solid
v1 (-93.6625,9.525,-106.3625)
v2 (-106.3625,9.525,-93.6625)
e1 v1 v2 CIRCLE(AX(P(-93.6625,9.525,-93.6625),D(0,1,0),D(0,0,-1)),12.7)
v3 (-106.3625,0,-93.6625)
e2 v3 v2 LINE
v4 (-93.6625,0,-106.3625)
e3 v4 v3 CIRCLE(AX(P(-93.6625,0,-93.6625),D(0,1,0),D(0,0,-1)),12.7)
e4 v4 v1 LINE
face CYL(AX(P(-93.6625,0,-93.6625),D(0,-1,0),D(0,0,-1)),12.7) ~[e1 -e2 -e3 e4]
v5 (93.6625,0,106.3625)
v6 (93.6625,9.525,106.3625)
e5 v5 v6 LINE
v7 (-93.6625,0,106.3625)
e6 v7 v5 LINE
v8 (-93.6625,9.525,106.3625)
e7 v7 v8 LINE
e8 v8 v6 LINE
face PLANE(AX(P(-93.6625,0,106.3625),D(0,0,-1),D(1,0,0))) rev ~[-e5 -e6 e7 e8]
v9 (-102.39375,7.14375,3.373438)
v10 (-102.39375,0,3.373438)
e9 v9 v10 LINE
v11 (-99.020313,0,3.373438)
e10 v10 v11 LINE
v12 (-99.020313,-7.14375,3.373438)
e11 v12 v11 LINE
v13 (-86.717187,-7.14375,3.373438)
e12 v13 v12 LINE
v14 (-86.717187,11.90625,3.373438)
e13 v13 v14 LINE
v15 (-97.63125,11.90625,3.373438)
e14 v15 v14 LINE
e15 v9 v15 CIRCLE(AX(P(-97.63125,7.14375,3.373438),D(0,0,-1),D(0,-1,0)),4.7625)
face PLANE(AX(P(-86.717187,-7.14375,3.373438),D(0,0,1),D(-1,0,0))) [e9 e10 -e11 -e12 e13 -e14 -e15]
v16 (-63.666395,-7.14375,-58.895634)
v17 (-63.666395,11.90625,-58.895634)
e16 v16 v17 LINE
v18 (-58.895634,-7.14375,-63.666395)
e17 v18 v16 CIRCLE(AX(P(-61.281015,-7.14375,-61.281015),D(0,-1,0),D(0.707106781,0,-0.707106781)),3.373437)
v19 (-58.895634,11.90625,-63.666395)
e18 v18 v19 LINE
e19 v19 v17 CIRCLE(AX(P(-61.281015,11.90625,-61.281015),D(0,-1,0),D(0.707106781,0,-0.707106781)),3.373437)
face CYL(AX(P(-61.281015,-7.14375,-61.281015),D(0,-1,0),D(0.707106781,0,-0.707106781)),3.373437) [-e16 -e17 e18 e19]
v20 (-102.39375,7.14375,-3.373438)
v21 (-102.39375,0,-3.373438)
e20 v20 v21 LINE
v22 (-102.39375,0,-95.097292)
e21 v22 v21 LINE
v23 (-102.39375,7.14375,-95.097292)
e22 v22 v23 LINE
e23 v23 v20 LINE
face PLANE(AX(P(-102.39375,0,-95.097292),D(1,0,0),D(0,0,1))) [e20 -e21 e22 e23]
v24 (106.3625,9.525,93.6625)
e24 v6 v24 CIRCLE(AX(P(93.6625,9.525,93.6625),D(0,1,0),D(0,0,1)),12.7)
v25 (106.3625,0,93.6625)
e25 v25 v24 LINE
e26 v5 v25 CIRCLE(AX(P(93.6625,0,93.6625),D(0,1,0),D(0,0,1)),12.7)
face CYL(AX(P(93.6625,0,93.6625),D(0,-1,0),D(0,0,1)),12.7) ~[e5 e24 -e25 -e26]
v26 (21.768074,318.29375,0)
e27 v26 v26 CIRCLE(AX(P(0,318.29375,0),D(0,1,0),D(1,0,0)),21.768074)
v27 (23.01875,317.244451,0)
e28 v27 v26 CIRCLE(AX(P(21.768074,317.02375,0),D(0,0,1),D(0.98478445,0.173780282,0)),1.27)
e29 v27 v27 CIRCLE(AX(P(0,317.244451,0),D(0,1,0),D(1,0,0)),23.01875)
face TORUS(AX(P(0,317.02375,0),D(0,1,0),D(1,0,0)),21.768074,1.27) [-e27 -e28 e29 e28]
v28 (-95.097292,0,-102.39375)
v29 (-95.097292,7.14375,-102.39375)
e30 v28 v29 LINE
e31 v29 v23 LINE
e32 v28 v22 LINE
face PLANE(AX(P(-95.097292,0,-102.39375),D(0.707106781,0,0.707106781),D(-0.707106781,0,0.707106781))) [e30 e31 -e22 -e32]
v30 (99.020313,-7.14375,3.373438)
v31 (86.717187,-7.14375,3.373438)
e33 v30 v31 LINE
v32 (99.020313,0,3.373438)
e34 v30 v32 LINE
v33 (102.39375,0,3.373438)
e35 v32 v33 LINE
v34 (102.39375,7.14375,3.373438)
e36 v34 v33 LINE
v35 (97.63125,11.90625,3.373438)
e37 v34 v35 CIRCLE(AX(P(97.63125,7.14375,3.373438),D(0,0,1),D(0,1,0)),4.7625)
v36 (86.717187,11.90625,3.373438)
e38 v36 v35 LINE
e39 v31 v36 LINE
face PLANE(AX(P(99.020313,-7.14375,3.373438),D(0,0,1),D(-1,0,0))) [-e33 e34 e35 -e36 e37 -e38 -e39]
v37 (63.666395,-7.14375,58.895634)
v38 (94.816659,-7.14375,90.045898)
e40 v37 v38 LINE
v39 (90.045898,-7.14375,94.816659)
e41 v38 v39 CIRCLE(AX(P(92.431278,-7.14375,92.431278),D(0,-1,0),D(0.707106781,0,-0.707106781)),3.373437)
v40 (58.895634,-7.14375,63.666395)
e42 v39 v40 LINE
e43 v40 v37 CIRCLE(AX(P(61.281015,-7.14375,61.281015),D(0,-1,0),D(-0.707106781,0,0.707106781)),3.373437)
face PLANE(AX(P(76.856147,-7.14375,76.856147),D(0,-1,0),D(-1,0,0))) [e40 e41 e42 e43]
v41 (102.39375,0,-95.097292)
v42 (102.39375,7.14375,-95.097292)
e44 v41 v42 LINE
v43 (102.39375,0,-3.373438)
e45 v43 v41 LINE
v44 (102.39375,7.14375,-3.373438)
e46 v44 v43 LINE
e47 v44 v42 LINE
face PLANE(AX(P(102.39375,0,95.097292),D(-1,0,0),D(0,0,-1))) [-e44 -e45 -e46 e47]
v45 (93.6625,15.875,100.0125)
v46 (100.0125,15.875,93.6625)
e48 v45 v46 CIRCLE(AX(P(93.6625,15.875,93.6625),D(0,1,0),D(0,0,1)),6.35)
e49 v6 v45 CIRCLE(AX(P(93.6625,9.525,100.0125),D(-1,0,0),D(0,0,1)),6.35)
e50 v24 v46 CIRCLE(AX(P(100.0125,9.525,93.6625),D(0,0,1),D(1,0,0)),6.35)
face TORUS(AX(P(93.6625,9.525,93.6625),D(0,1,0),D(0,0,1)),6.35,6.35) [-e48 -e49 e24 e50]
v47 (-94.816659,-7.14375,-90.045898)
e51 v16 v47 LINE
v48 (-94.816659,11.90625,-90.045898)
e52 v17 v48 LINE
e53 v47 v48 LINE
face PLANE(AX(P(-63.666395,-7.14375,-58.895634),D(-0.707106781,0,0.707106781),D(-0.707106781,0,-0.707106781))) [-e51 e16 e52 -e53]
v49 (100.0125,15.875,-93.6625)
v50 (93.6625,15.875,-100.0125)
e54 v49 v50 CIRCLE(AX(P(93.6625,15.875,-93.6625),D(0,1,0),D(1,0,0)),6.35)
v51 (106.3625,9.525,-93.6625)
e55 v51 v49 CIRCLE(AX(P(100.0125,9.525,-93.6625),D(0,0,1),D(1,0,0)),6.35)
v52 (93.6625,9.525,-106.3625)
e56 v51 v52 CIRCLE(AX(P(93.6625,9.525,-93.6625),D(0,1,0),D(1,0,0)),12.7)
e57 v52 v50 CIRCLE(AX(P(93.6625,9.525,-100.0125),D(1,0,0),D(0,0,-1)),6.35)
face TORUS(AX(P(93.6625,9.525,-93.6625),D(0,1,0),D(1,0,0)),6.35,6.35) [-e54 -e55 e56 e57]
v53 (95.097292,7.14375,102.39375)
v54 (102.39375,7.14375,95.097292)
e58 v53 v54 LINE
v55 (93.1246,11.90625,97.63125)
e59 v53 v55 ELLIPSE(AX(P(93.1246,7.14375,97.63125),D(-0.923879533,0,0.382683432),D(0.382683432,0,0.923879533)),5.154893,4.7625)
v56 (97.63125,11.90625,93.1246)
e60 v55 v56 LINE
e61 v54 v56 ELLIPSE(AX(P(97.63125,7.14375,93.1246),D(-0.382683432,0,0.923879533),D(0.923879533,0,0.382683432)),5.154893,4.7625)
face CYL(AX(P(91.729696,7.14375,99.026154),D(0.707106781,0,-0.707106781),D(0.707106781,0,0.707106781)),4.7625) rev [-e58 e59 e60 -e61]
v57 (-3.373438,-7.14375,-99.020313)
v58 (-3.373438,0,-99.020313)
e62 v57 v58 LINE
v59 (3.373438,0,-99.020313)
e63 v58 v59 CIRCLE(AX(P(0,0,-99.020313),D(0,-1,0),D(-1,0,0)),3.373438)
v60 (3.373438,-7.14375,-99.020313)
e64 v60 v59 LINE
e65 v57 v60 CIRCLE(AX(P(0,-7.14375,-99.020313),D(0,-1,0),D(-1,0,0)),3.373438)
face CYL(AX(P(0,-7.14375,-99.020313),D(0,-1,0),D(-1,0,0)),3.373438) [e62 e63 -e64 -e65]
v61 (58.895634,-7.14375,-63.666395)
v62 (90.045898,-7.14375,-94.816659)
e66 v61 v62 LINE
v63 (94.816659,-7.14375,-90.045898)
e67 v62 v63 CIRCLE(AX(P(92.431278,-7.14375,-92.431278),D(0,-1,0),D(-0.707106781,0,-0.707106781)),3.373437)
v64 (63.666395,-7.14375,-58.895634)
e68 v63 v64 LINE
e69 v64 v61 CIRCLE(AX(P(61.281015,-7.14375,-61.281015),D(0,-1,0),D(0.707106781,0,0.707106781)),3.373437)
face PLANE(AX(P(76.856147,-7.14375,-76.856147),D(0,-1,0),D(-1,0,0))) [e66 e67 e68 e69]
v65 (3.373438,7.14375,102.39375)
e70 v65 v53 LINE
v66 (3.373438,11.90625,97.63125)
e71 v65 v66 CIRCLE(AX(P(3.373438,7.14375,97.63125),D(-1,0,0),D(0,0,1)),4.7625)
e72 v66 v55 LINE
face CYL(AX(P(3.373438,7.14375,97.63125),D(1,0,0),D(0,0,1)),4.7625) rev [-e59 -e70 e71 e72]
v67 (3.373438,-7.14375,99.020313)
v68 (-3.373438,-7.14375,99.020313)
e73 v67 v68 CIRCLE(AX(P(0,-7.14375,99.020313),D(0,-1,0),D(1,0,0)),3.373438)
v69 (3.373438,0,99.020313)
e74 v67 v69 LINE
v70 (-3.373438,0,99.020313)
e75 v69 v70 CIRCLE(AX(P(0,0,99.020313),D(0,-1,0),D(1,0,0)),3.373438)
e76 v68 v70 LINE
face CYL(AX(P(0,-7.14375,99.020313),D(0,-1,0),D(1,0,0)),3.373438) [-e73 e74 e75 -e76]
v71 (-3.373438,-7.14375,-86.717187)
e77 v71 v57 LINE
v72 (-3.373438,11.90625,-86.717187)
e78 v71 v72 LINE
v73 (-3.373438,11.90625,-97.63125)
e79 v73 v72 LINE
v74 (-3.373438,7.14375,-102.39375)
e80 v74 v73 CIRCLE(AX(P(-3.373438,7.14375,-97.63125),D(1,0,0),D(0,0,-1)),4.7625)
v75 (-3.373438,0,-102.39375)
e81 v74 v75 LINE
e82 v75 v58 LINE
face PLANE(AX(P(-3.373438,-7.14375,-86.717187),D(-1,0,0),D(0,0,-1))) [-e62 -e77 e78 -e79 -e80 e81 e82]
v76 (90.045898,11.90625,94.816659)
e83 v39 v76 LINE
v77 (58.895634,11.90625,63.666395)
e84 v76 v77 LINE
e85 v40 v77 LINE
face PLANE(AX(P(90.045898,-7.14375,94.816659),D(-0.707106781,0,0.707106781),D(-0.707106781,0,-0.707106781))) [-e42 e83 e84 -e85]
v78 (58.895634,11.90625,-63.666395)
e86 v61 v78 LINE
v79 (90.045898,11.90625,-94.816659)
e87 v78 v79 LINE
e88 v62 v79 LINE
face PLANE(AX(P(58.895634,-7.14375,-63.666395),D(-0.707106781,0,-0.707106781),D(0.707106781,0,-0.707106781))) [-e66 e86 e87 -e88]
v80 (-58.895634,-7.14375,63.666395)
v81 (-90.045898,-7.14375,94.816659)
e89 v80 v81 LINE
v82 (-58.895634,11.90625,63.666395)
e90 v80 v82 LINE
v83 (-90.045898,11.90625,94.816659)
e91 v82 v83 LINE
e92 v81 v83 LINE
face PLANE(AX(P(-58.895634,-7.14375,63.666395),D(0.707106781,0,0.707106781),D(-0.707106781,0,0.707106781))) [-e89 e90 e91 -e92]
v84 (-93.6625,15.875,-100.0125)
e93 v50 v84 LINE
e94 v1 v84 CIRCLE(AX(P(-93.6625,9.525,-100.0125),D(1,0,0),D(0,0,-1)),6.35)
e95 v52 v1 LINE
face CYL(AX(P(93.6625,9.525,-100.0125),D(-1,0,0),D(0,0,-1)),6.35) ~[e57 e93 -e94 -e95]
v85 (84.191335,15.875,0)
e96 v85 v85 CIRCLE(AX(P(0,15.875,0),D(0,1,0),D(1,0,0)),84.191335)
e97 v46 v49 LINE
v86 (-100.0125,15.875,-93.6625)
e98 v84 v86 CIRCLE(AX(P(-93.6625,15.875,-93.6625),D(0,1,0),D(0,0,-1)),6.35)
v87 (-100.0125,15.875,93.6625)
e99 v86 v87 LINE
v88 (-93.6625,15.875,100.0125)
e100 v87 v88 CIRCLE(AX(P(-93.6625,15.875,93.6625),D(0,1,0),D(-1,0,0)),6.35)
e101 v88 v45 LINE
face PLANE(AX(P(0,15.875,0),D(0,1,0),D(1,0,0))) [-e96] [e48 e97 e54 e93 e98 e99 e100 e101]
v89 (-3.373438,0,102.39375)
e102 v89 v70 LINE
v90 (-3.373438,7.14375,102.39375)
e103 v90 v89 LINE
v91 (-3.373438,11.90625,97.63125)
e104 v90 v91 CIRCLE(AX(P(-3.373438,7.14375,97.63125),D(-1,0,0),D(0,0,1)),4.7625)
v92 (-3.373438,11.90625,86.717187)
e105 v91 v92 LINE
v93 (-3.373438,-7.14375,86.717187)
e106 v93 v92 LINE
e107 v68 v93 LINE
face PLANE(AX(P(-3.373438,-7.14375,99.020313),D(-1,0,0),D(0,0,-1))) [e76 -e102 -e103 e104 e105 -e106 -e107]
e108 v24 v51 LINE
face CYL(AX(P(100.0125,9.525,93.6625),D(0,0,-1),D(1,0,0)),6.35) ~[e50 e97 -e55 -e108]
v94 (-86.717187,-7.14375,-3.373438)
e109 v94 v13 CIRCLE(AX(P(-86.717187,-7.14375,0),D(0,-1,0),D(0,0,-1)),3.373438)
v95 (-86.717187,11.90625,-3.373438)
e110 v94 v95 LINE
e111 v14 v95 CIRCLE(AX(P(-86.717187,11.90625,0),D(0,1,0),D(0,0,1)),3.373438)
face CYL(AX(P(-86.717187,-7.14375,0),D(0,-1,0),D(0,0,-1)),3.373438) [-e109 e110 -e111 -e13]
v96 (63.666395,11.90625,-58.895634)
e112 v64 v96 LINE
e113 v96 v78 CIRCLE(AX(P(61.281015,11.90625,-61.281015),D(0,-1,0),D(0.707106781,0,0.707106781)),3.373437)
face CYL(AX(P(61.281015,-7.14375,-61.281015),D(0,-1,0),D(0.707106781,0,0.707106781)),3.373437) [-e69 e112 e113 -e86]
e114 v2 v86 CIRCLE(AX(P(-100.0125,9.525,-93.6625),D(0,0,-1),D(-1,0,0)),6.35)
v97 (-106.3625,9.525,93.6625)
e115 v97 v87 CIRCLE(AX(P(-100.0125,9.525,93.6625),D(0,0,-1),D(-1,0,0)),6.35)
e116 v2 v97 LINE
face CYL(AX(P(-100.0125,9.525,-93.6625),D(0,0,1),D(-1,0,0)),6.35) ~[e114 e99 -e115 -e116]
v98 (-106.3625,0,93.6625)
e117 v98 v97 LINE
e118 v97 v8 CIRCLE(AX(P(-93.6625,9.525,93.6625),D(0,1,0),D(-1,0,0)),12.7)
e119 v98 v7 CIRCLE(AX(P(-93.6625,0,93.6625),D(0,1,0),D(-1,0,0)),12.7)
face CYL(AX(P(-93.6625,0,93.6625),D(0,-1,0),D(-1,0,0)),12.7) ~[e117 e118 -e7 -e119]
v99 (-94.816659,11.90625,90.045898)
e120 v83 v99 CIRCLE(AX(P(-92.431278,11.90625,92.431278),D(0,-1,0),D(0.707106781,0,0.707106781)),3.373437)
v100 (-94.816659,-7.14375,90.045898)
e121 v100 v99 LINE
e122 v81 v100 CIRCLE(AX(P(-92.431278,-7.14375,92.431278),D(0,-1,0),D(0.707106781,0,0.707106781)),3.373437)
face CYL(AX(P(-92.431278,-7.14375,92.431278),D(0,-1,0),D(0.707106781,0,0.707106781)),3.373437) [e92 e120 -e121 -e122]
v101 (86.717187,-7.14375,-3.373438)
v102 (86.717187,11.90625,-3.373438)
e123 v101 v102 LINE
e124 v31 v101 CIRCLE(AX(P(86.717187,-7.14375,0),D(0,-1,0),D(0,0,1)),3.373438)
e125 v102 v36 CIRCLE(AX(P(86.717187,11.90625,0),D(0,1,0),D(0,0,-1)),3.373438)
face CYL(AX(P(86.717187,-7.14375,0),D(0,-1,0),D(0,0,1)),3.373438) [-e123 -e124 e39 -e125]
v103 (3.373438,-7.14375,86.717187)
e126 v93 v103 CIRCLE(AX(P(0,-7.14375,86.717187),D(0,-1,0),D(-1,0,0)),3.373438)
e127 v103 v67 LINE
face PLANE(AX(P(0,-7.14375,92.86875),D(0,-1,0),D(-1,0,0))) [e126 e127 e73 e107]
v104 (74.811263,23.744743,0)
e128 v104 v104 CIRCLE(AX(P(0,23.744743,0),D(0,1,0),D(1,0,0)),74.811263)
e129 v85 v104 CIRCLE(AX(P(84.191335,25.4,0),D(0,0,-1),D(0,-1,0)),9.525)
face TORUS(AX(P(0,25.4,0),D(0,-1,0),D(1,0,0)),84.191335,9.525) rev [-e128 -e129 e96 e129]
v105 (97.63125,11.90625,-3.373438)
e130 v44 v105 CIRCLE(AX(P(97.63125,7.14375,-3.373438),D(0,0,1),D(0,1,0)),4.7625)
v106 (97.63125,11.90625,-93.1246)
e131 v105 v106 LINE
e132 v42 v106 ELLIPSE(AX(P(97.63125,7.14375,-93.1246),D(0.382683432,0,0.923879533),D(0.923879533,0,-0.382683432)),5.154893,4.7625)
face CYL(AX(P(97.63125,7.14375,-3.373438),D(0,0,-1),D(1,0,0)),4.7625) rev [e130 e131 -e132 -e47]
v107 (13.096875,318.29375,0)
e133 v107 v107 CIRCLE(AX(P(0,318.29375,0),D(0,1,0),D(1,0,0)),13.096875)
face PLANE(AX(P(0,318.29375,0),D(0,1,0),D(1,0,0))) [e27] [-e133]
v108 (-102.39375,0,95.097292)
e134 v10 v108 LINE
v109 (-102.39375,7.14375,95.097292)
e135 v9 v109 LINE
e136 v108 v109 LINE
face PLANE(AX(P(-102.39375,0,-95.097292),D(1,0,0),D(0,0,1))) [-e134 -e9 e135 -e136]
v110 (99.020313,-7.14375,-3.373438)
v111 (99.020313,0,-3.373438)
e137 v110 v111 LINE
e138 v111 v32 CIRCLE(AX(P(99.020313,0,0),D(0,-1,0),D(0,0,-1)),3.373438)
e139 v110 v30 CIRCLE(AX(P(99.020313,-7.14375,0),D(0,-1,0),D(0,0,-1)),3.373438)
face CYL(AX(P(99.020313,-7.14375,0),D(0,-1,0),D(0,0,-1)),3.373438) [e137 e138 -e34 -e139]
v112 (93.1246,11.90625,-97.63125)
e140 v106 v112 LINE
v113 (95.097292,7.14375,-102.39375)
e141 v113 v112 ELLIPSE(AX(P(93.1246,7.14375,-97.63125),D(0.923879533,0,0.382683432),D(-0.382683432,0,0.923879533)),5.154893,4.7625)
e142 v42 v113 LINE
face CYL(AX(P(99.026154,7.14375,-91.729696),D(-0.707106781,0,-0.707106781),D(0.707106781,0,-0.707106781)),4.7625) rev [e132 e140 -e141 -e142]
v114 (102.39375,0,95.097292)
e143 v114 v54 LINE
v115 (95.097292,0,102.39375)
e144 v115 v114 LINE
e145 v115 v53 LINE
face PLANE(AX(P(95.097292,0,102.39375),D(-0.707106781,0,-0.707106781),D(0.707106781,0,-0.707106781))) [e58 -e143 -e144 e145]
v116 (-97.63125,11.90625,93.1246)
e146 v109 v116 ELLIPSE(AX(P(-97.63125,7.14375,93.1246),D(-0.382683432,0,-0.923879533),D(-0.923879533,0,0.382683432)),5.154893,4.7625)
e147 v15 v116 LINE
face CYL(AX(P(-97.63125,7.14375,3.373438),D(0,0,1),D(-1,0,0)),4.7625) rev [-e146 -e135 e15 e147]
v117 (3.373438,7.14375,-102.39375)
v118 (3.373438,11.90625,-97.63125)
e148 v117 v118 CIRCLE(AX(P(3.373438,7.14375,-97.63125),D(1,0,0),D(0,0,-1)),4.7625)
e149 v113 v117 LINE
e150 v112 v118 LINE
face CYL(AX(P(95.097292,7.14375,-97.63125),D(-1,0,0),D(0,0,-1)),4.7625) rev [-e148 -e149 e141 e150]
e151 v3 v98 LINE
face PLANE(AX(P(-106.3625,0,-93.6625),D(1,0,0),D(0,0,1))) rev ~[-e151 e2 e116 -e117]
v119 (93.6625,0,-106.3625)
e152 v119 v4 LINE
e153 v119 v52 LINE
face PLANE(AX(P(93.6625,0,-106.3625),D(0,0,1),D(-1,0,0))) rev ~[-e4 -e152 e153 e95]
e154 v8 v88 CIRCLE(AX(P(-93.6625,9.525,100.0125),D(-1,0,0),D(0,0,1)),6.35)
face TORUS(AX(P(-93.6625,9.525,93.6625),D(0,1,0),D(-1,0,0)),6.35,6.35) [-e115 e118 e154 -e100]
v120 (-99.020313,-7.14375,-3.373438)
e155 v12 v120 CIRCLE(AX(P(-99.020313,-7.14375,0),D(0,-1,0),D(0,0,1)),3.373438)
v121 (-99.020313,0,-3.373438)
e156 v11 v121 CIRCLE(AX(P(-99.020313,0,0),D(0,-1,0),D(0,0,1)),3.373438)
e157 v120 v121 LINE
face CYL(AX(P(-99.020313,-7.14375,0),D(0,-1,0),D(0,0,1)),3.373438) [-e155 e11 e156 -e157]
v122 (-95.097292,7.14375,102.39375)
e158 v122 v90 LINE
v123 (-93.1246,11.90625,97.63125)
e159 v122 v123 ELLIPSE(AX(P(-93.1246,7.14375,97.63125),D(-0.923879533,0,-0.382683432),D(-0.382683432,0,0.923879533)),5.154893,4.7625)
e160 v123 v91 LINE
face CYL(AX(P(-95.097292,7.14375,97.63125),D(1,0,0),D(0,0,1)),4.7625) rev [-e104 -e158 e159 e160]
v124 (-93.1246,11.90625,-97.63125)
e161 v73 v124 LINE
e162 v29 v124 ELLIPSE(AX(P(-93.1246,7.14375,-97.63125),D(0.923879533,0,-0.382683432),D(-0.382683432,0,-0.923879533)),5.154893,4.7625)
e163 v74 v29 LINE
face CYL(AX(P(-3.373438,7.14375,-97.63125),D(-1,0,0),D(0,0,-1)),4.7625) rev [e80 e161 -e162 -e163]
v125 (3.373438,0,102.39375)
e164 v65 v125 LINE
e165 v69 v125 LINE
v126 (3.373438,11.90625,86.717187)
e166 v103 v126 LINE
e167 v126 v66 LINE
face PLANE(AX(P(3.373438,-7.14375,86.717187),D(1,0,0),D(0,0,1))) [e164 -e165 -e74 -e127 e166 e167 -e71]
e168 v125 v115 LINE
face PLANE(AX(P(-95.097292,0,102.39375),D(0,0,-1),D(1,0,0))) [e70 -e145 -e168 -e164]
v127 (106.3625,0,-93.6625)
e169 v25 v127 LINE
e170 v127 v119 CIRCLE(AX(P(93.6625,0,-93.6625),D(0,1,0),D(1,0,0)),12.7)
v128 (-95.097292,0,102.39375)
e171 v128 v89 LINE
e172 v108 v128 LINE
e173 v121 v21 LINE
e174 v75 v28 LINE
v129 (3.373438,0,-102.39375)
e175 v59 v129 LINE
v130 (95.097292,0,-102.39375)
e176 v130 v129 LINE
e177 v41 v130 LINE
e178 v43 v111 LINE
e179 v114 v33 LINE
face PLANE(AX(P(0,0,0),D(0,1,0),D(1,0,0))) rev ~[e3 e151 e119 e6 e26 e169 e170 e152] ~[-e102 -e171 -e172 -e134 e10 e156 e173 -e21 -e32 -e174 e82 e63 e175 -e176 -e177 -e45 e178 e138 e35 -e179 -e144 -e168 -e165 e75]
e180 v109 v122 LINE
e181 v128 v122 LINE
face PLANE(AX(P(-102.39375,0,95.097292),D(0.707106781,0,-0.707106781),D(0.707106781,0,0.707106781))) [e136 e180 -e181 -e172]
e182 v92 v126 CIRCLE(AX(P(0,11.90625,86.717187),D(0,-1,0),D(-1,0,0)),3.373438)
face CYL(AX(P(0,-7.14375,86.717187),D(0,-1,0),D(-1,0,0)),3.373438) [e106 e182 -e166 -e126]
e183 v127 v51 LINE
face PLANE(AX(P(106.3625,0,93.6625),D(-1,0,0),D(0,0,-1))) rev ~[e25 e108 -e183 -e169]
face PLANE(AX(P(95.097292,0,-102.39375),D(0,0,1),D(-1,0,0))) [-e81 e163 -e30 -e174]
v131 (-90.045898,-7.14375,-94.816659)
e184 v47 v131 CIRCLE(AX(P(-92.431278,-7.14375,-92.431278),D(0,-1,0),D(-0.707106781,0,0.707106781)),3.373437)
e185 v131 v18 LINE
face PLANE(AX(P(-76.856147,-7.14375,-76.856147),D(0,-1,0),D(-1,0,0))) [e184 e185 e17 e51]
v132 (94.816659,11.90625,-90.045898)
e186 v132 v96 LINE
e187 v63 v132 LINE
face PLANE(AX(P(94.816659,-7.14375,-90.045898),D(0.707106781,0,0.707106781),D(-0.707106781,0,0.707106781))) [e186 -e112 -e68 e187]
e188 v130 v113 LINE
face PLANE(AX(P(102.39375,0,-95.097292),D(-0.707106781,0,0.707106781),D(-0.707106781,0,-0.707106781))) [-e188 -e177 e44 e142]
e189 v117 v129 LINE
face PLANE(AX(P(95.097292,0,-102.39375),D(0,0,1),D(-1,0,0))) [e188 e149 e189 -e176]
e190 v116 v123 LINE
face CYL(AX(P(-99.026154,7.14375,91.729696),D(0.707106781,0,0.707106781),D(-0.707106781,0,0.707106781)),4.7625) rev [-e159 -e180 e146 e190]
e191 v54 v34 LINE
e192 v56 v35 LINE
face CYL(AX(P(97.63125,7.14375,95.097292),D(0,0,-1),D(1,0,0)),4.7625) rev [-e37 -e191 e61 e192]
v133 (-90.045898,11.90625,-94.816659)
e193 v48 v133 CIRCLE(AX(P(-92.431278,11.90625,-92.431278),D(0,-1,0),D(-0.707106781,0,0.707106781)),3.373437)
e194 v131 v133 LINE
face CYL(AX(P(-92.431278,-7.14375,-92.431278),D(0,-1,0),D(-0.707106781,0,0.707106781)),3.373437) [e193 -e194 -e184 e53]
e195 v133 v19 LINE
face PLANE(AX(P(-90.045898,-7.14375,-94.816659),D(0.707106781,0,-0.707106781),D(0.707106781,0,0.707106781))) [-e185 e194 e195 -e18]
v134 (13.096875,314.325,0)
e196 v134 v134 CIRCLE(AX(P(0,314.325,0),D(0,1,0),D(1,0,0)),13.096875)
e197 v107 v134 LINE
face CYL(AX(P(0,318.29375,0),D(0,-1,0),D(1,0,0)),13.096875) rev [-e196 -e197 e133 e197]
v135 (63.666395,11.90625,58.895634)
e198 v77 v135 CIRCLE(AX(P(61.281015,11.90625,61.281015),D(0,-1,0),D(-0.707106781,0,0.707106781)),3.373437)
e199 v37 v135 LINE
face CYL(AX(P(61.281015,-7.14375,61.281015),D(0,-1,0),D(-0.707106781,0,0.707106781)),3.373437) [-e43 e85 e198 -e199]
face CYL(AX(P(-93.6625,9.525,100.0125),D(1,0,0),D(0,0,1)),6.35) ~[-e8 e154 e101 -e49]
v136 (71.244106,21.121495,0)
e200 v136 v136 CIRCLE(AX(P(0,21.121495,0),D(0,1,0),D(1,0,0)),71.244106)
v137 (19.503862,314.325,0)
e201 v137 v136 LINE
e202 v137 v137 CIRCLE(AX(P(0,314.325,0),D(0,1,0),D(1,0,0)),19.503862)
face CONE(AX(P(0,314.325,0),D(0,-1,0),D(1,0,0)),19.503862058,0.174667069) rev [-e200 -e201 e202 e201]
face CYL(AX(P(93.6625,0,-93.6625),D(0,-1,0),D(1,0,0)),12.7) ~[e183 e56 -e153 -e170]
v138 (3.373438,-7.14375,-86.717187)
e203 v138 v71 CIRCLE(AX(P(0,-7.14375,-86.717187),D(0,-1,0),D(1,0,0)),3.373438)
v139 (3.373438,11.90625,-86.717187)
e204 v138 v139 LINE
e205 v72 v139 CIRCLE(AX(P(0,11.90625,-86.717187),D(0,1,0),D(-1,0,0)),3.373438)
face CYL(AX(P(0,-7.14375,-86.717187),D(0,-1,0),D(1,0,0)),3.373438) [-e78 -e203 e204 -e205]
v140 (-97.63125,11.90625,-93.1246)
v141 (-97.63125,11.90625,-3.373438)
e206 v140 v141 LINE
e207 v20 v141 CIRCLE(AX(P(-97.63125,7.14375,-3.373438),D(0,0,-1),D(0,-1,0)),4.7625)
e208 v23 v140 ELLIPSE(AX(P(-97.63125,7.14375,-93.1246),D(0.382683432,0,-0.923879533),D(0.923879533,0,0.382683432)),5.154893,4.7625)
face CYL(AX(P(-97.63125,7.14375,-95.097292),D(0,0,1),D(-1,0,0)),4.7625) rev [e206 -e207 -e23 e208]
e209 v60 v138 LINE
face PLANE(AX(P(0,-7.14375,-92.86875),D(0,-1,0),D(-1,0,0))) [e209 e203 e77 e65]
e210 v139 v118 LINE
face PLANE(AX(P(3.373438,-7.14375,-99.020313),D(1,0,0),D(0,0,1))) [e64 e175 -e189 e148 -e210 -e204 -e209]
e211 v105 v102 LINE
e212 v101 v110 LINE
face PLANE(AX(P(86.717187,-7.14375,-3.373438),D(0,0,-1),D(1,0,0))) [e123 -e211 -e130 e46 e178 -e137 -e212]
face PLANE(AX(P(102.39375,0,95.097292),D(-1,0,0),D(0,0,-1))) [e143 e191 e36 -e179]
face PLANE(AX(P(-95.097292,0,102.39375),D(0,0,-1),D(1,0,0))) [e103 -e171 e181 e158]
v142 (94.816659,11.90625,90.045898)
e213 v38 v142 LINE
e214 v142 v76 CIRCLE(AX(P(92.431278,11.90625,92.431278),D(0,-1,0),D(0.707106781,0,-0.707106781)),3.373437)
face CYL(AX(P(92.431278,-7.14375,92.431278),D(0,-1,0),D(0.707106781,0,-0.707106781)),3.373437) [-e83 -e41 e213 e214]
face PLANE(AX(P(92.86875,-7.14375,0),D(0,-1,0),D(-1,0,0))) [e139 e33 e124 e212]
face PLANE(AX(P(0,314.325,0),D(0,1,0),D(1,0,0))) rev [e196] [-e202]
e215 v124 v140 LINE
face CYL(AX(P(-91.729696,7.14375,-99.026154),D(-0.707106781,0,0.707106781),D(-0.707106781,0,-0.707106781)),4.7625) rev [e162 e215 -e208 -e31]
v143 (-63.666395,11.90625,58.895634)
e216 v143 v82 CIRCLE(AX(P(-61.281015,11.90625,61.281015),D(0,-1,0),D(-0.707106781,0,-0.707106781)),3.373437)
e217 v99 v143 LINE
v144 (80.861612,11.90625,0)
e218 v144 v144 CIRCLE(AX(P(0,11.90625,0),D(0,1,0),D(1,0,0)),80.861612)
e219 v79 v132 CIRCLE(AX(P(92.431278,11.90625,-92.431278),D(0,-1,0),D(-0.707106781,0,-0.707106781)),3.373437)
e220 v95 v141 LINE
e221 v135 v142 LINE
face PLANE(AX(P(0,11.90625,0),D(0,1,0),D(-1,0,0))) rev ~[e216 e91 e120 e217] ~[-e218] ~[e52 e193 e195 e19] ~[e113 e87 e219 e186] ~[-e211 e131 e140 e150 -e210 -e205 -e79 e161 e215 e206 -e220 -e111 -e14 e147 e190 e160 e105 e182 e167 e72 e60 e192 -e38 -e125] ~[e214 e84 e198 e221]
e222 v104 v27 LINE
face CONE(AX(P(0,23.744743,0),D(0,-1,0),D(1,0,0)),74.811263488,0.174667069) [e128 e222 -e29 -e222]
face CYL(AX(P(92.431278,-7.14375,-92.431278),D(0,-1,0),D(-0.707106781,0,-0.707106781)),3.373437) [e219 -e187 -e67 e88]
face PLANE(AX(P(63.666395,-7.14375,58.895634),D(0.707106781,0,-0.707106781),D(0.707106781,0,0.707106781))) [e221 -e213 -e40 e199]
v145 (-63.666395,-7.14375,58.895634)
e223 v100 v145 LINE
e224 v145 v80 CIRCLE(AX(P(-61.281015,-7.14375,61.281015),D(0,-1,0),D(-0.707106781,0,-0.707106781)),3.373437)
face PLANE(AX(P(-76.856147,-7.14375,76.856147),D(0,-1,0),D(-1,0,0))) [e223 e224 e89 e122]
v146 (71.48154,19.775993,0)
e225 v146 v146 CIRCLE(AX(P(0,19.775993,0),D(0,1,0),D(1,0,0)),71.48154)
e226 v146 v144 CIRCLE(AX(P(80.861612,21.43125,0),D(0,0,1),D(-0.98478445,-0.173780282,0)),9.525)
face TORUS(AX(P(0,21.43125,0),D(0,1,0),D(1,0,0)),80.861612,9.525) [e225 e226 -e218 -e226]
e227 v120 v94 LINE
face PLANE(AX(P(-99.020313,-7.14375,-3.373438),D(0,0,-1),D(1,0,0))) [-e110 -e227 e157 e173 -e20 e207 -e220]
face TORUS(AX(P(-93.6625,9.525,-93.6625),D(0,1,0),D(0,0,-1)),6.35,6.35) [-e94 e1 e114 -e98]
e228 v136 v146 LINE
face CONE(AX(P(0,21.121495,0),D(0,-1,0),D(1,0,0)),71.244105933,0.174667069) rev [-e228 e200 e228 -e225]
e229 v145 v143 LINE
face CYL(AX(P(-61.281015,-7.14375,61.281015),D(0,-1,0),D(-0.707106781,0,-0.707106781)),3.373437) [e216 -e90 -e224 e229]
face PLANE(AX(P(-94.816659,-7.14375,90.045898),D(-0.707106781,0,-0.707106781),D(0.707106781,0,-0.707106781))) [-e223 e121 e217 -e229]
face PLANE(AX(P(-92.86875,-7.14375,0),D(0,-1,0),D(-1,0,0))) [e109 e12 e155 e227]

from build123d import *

# Parameters (mm, degrees)
BOSS_EXTRUDE1_DEPTH = 15.875
FILLET1_R           = 6.35
CUT_EXTRUDE1_DEPTH  = 11.90625
BOSS_EXTRUDE2_DEPTH = 11.90625
BOSS_EXTRUDE3_REACH = 25.019
FILLET2_R           = 4.7625


with BuildPart() as part:
    # Sketch1 → Boss-Extrude1 (new body)
    with BuildSketch(Plane(origin=(0, 0, 0), x_dir=(1, 0, 0), z_dir=(0, 1, 0))):
        with BuildLine():
            Line((-93.6625, -106.3625), (93.6625, -106.3625))
            ThreePointArc((93.6625, -106.3625), (102.642756121, -102.642756121), (106.3625, -93.6625))
            Line((106.3625, -93.6625), (106.3625, 93.6625))
            ThreePointArc((106.3625, 93.6625), (102.642756121, 102.642756121), (93.6625, 106.3625))
            Line((93.6625, 106.3625), (-93.6625, 106.3625))
            ThreePointArc((-93.6625, 106.3625), (-102.642756121, 102.642756121), (-106.3625, 93.6625))
            Line((-106.3625, 93.6625), (-106.3625, -93.6625))
            ThreePointArc((-106.3625, -93.6625), (-102.642756121, -102.642756121), (-93.6625, -106.3625))
        make_face()
    extrude(amount=BOSS_EXTRUDE1_DEPTH)

    # Fillet1
    fillet1_edges = [part.edges().sort_by_distance(p)[0] for p in [
        (102.642756121, 15.875, 102.642756121),
        (106.3625, 15.875, 0),
        (102.642756121, 15.875, -102.642756121),
        (0, 15.875, -106.3625),
        (-102.642756121, 15.875, -102.642756121),
        (-106.3625, 15.875, 0),
        (-102.642756121, 15.875, 102.642756121),
        (0, 15.875, 106.3625),
    ]]
    fillet(fillet1_edges, radius=FILLET1_R)

    # Sketch2 → Cut-Extrude1 (cut)
    with BuildSketch(Plane.XZ):
        Polygon((-102.39375, 95.097291902), (-95.097291902, 102.39375), (95.097291902, 102.39375), (102.39375, 95.097291902), (102.39375, -95.097291902), (95.097291902, -102.39375), (-95.097291902, -102.39375), (-102.39375, -95.097291902), align=None)
    extrude(amount=-CUT_EXTRUDE1_DEPTH, mode=Mode.SUBTRACT)

    # Sketch3 → Boss-Extrude2 (add)
    with BuildSketch(Plane.XZ.offset(-11.90625)):
        with BuildLine():
            Line((-3.3734375, 102.39375), (-3.3734375, 86.7171875))
            ThreePointArc((-3.3734375, 86.7171875), (0, 83.34375), (3.3734375, 86.7171875))
            Line((3.3734375, 86.7171875), (3.3734375, 102.39375))
            Line((3.3734375, 102.39375), (-3.3734375, 102.39375))
        make_face()
        with BuildLine():
            Line((102.39375, -3.3734375), (86.7171875, -3.3734375))
            ThreePointArc((86.7171875, -3.3734375), (83.34375, 0), (86.7171875, 3.3734375))
            Line((86.7171875, 3.3734375), (102.39375, 3.3734375))
            Line((102.39375, 3.3734375), (102.39375, -3.3734375))
        make_face()
        with BuildLine():
            Line((-3.3734375, -102.39375), (-3.3734375, -86.7171875))
            ThreePointArc((-3.3734375, -86.7171875), (0, -83.34375), (3.3734375, -86.7171875))
            Line((3.3734375, -86.7171875), (3.3734375, -102.39375))
            Line((3.3734375, -102.39375), (-3.3734375, -102.39375))
        make_face()
        with BuildLine():
            Line((-102.39375, 3.3734375), (-86.7171875, 3.3734375))
            ThreePointArc((-86.7171875, 3.3734375), (-83.34375, 0), (-86.7171875, -3.3734375))
            Line((-86.7171875, -3.3734375), (-102.39375, -3.3734375))
            Line((-102.39375, -3.3734375), (-102.39375, 3.3734375))
        make_face()
    extrude(amount=BOSS_EXTRUDE2_DEPTH)

    # Sketch4 → Boss-Extrude3 (add, up to next)
    with BuildSketch(Plane(origin=(0, -7.14375, 0), x_dir=(-1, 0, 0), z_dir=(0, -1, 0)), mode=Mode.PRIVATE) as boss_extrude3_sk1:
        with BuildLine():
            Line((-94.816658898, 90.045897834), (-63.666395478, 58.895634414))
            ThreePointArc((-63.666395478, 58.895634414), (-58.895634414, 58.895634414), (-58.895634414, 63.666395478))
            Line((-58.895634414, 63.666395478), (-90.045897834, 94.816658898))
            ThreePointArc((-90.045897834, 94.816658898), (-94.816658898, 94.816658898), (-94.816658898, 90.045897834))
        make_face()
    boss_extrude3_tool1 = extrude(boss_extrude3_sk1.sketch, amount=-BOSS_EXTRUDE3_REACH, mode=Mode.PRIVATE) - part.part
    add(boss_extrude3_tool1.solids().sort_by_distance((76.856147, -7.14375, -76.856147))[0])
    # Sketch4 → Boss-Extrude3 (add, up to next)
    with BuildSketch(Plane(origin=(0, -7.14375, 0), x_dir=(-1, 0, 0), z_dir=(0, -1, 0)), mode=Mode.PRIVATE) as boss_extrude3_sk2:
        with BuildLine():
            Line((3.3734375, 86.7171875), (3.3734375, 99.0203125))
            ThreePointArc((3.3734375, 99.0203125), (0, 102.39375), (-3.3734375, 99.0203125))
            Line((-3.3734375, 99.0203125), (-3.3734375, 86.7171875))
            ThreePointArc((-3.3734375, 86.7171875), (0, 83.34375), (3.3734375, 86.7171875))
        make_face()
    boss_extrude3_tool2 = extrude(boss_extrude3_sk2.sketch, amount=-BOSS_EXTRUDE3_REACH, mode=Mode.PRIVATE) - part.part
    add(boss_extrude3_tool2.solids().sort_by_distance((0, -7.14375, -92.86875))[0])
    # Sketch4 → Boss-Extrude3 (add, up to next)
    with BuildSketch(Plane(origin=(0, -7.14375, 0), x_dir=(-1, 0, 0), z_dir=(0, -1, 0)), mode=Mode.PRIVATE) as boss_extrude3_sk3:
        with BuildLine():
            Line((90.045897834, 94.816658898), (58.895634414, 63.666395478))
            ThreePointArc((58.895634414, 63.666395478), (58.895634414, 58.895634414), (63.666395478, 58.895634414))
            Line((63.666395478, 58.895634414), (94.816658898, 90.045897834))
            ThreePointArc((94.816658898, 90.045897834), (94.816658898, 94.816658898), (90.045897834, 94.816658898))
        make_face()
    boss_extrude3_tool3 = extrude(boss_extrude3_sk3.sketch, amount=-BOSS_EXTRUDE3_REACH, mode=Mode.PRIVATE) - part.part
    add(boss_extrude3_tool3.solids().sort_by_distance((-76.856147, -7.14375, -76.856147))[0])
    # Sketch4 → Boss-Extrude3 (add, up to next)
    with BuildSketch(Plane(origin=(0, -7.14375, 0), x_dir=(-1, 0, 0), z_dir=(0, -1, 0)), mode=Mode.PRIVATE) as boss_extrude3_sk4:
        with BuildLine():
            Line((86.7171875, -3.3734375), (99.0203125, -3.3734375))
            ThreePointArc((99.0203125, -3.3734375), (102.39375, 0), (99.0203125, 3.3734375))
            Line((99.0203125, 3.3734375), (86.7171875, 3.3734375))
            ThreePointArc((86.7171875, 3.3734375), (83.34375, 0), (86.7171875, -3.3734375))
        make_face()
    boss_extrude3_tool4 = extrude(boss_extrude3_sk4.sketch, amount=-BOSS_EXTRUDE3_REACH, mode=Mode.PRIVATE) - part.part
    add(boss_extrude3_tool4.solids().sort_by_distance((-92.86875, -7.14375, 0))[0])
    # Sketch4 → Boss-Extrude3 (add, up to next)
    with BuildSketch(Plane(origin=(0, -7.14375, 0), x_dir=(-1, 0, 0), z_dir=(0, -1, 0)), mode=Mode.PRIVATE) as boss_extrude3_sk5:
        with BuildLine():
            Line((94.816658898, -90.045897834), (63.666395478, -58.895634414))
            ThreePointArc((63.666395478, -58.895634414), (58.895634414, -58.895634414), (58.895634414, -63.666395478))
            Line((58.895634414, -63.666395478), (90.045897834, -94.816658898))
            ThreePointArc((90.045897834, -94.816658898), (94.816658898, -94.816658898), (94.816658898, -90.045897834))
        make_face()
    boss_extrude3_tool5 = extrude(boss_extrude3_sk5.sketch, amount=-BOSS_EXTRUDE3_REACH, mode=Mode.PRIVATE) - part.part
    add(boss_extrude3_tool5.solids().sort_by_distance((-76.856147, -7.14375, 76.856147))[0])
    # Sketch4 → Boss-Extrude3 (add, up to next)
    with BuildSketch(Plane(origin=(0, -7.14375, 0), x_dir=(-1, 0, 0), z_dir=(0, -1, 0)), mode=Mode.PRIVATE) as boss_extrude3_sk6:
        with BuildLine():
            Line((-3.3734375, -86.7171875), (-3.3734375, -99.0203125))
            ThreePointArc((-3.3734375, -99.0203125), (0, -102.39375), (3.3734375, -99.0203125))
            Line((3.3734375, -99.0203125), (3.3734375, -86.7171875))
            ThreePointArc((3.3734375, -86.7171875), (0, -83.34375), (-3.3734375, -86.7171875))
        make_face()
    boss_extrude3_tool6 = extrude(boss_extrude3_sk6.sketch, amount=-BOSS_EXTRUDE3_REACH, mode=Mode.PRIVATE) - part.part
    add(boss_extrude3_tool6.solids().sort_by_distance((0, -7.14375, 92.86875))[0])
    # Sketch4 → Boss-Extrude3 (add, up to next)
    with BuildSketch(Plane(origin=(0, -7.14375, 0), x_dir=(-1, 0, 0), z_dir=(0, -1, 0)), mode=Mode.PRIVATE) as boss_extrude3_sk7:
        with BuildLine():
            Line((-90.045897834, -94.816658898), (-58.895634414, -63.666395478))
            ThreePointArc((-58.895634414, -63.666395478), (-58.895634414, -58.895634414), (-63.666395478, -58.895634414))
            Line((-63.666395478, -58.895634414), (-94.816658898, -90.045897834))
            ThreePointArc((-94.816658898, -90.045897834), (-94.816658898, -94.816658898), (-90.045897834, -94.816658898))
        make_face()
    boss_extrude3_tool7 = extrude(boss_extrude3_sk7.sketch, amount=-BOSS_EXTRUDE3_REACH, mode=Mode.PRIVATE) - part.part
    add(boss_extrude3_tool7.solids().sort_by_distance((76.856147, -7.14375, 76.856147))[0])
    # Sketch4 → Boss-Extrude3 (add, up to next)
    with BuildSketch(Plane(origin=(0, -7.14375, 0), x_dir=(-1, 0, 0), z_dir=(0, -1, 0)), mode=Mode.PRIVATE) as boss_extrude3_sk8:
        with BuildLine():
            Line((-86.7171875, 3.3734375), (-99.0203125, 3.3734375))
            ThreePointArc((-99.0203125, 3.3734375), (-102.39375, 0), (-99.0203125, -3.3734375))
            Line((-99.0203125, -3.3734375), (-86.7171875, -3.3734375))
            ThreePointArc((-86.7171875, -3.3734375), (-83.34375, 0), (-86.7171875, 3.3734375))
        make_face()
    boss_extrude3_tool8 = extrude(boss_extrude3_sk8.sketch, amount=-BOSS_EXTRUDE3_REACH, mode=Mode.PRIVATE) - part.part
    add(boss_extrude3_tool8.solids().sort_by_distance((92.86875, -7.14375, 0))[0])

    # Fillet2
    fillet2_edges = [part.edges().sort_by_distance(p)[0] for p in [
        (49.235364701, 11.90625, -102.39375),
        (-102.39375, 11.90625, -49.235364701),
        (-102.39375, 11.90625, 49.235364701),
        (-98.745520951, 11.90625, 98.745520951),
        (49.235364701, 11.90625, 102.39375),
        (98.745520951, 11.90625, 98.745520951),
        (102.39375, 11.90625, -49.235364701),
        (98.745520951, 11.90625, -98.745520951),
        (-49.235364701, 11.90625, -102.39375),
        (-98.745520951, 11.90625, -98.745520951),
        (-49.235364701, 11.90625, 102.39375),
        (102.39375, 11.90625, 49.235364701),
    ]]
    fillet(fillet2_edges, radius=FILLET2_R)

    # Sketch5 → Revolve1 (revolve)
    with BuildSketch(Plane.XY):
        with BuildLine():
            Line((74.811263488, 23.744742818), (23.01875, 317.244450958))
            ThreePointArc((23.01875, 317.244450958), (22.584348758, 317.996681194), (21.768073748, 318.29375))
            Line((21.768073748, 318.29375), (13.096875, 318.29375))
            Line((13.096875, 318.29375), (13.096875, 314.325))
            Line((13.096875, 314.325), (19.503862058, 314.325))
            Line((19.503862058, 314.325), (72.169930274, 15.875))
            Line((72.169930274, 15.875), (84.191335378, 15.875))
            ThreePointArc((84.191335378, 15.875), (78.069272803, 18.103016046), (74.811263488, 23.744742818))
        make_face()
    revolve(axis=Axis((0, 0, 0), (0, 1, 0)))

    # Sketch6 → Cut-Revolve1 (revolve, cut)
    with BuildSketch(Plane.XY):
        with BuildLine():
            Line((0, 21.121495212), (71.244105933, 21.121495212))
            Line((71.244105933, 21.121495212), (71.481540414, 19.775992818))
            ThreePointArc((71.481540414, 19.775992818), (74.739549729, 14.134266046), (80.861612304, 11.90625))
            Line((80.861612304, 11.90625), (0, 11.90625))
            Line((0, 11.90625), (0, 21.121495212))
        make_face()
    revolve(axis=Axis((0, 11.90625, 0), (0, 1, 0)), mode=Mode.SUBTRACT)


solid = part.part
